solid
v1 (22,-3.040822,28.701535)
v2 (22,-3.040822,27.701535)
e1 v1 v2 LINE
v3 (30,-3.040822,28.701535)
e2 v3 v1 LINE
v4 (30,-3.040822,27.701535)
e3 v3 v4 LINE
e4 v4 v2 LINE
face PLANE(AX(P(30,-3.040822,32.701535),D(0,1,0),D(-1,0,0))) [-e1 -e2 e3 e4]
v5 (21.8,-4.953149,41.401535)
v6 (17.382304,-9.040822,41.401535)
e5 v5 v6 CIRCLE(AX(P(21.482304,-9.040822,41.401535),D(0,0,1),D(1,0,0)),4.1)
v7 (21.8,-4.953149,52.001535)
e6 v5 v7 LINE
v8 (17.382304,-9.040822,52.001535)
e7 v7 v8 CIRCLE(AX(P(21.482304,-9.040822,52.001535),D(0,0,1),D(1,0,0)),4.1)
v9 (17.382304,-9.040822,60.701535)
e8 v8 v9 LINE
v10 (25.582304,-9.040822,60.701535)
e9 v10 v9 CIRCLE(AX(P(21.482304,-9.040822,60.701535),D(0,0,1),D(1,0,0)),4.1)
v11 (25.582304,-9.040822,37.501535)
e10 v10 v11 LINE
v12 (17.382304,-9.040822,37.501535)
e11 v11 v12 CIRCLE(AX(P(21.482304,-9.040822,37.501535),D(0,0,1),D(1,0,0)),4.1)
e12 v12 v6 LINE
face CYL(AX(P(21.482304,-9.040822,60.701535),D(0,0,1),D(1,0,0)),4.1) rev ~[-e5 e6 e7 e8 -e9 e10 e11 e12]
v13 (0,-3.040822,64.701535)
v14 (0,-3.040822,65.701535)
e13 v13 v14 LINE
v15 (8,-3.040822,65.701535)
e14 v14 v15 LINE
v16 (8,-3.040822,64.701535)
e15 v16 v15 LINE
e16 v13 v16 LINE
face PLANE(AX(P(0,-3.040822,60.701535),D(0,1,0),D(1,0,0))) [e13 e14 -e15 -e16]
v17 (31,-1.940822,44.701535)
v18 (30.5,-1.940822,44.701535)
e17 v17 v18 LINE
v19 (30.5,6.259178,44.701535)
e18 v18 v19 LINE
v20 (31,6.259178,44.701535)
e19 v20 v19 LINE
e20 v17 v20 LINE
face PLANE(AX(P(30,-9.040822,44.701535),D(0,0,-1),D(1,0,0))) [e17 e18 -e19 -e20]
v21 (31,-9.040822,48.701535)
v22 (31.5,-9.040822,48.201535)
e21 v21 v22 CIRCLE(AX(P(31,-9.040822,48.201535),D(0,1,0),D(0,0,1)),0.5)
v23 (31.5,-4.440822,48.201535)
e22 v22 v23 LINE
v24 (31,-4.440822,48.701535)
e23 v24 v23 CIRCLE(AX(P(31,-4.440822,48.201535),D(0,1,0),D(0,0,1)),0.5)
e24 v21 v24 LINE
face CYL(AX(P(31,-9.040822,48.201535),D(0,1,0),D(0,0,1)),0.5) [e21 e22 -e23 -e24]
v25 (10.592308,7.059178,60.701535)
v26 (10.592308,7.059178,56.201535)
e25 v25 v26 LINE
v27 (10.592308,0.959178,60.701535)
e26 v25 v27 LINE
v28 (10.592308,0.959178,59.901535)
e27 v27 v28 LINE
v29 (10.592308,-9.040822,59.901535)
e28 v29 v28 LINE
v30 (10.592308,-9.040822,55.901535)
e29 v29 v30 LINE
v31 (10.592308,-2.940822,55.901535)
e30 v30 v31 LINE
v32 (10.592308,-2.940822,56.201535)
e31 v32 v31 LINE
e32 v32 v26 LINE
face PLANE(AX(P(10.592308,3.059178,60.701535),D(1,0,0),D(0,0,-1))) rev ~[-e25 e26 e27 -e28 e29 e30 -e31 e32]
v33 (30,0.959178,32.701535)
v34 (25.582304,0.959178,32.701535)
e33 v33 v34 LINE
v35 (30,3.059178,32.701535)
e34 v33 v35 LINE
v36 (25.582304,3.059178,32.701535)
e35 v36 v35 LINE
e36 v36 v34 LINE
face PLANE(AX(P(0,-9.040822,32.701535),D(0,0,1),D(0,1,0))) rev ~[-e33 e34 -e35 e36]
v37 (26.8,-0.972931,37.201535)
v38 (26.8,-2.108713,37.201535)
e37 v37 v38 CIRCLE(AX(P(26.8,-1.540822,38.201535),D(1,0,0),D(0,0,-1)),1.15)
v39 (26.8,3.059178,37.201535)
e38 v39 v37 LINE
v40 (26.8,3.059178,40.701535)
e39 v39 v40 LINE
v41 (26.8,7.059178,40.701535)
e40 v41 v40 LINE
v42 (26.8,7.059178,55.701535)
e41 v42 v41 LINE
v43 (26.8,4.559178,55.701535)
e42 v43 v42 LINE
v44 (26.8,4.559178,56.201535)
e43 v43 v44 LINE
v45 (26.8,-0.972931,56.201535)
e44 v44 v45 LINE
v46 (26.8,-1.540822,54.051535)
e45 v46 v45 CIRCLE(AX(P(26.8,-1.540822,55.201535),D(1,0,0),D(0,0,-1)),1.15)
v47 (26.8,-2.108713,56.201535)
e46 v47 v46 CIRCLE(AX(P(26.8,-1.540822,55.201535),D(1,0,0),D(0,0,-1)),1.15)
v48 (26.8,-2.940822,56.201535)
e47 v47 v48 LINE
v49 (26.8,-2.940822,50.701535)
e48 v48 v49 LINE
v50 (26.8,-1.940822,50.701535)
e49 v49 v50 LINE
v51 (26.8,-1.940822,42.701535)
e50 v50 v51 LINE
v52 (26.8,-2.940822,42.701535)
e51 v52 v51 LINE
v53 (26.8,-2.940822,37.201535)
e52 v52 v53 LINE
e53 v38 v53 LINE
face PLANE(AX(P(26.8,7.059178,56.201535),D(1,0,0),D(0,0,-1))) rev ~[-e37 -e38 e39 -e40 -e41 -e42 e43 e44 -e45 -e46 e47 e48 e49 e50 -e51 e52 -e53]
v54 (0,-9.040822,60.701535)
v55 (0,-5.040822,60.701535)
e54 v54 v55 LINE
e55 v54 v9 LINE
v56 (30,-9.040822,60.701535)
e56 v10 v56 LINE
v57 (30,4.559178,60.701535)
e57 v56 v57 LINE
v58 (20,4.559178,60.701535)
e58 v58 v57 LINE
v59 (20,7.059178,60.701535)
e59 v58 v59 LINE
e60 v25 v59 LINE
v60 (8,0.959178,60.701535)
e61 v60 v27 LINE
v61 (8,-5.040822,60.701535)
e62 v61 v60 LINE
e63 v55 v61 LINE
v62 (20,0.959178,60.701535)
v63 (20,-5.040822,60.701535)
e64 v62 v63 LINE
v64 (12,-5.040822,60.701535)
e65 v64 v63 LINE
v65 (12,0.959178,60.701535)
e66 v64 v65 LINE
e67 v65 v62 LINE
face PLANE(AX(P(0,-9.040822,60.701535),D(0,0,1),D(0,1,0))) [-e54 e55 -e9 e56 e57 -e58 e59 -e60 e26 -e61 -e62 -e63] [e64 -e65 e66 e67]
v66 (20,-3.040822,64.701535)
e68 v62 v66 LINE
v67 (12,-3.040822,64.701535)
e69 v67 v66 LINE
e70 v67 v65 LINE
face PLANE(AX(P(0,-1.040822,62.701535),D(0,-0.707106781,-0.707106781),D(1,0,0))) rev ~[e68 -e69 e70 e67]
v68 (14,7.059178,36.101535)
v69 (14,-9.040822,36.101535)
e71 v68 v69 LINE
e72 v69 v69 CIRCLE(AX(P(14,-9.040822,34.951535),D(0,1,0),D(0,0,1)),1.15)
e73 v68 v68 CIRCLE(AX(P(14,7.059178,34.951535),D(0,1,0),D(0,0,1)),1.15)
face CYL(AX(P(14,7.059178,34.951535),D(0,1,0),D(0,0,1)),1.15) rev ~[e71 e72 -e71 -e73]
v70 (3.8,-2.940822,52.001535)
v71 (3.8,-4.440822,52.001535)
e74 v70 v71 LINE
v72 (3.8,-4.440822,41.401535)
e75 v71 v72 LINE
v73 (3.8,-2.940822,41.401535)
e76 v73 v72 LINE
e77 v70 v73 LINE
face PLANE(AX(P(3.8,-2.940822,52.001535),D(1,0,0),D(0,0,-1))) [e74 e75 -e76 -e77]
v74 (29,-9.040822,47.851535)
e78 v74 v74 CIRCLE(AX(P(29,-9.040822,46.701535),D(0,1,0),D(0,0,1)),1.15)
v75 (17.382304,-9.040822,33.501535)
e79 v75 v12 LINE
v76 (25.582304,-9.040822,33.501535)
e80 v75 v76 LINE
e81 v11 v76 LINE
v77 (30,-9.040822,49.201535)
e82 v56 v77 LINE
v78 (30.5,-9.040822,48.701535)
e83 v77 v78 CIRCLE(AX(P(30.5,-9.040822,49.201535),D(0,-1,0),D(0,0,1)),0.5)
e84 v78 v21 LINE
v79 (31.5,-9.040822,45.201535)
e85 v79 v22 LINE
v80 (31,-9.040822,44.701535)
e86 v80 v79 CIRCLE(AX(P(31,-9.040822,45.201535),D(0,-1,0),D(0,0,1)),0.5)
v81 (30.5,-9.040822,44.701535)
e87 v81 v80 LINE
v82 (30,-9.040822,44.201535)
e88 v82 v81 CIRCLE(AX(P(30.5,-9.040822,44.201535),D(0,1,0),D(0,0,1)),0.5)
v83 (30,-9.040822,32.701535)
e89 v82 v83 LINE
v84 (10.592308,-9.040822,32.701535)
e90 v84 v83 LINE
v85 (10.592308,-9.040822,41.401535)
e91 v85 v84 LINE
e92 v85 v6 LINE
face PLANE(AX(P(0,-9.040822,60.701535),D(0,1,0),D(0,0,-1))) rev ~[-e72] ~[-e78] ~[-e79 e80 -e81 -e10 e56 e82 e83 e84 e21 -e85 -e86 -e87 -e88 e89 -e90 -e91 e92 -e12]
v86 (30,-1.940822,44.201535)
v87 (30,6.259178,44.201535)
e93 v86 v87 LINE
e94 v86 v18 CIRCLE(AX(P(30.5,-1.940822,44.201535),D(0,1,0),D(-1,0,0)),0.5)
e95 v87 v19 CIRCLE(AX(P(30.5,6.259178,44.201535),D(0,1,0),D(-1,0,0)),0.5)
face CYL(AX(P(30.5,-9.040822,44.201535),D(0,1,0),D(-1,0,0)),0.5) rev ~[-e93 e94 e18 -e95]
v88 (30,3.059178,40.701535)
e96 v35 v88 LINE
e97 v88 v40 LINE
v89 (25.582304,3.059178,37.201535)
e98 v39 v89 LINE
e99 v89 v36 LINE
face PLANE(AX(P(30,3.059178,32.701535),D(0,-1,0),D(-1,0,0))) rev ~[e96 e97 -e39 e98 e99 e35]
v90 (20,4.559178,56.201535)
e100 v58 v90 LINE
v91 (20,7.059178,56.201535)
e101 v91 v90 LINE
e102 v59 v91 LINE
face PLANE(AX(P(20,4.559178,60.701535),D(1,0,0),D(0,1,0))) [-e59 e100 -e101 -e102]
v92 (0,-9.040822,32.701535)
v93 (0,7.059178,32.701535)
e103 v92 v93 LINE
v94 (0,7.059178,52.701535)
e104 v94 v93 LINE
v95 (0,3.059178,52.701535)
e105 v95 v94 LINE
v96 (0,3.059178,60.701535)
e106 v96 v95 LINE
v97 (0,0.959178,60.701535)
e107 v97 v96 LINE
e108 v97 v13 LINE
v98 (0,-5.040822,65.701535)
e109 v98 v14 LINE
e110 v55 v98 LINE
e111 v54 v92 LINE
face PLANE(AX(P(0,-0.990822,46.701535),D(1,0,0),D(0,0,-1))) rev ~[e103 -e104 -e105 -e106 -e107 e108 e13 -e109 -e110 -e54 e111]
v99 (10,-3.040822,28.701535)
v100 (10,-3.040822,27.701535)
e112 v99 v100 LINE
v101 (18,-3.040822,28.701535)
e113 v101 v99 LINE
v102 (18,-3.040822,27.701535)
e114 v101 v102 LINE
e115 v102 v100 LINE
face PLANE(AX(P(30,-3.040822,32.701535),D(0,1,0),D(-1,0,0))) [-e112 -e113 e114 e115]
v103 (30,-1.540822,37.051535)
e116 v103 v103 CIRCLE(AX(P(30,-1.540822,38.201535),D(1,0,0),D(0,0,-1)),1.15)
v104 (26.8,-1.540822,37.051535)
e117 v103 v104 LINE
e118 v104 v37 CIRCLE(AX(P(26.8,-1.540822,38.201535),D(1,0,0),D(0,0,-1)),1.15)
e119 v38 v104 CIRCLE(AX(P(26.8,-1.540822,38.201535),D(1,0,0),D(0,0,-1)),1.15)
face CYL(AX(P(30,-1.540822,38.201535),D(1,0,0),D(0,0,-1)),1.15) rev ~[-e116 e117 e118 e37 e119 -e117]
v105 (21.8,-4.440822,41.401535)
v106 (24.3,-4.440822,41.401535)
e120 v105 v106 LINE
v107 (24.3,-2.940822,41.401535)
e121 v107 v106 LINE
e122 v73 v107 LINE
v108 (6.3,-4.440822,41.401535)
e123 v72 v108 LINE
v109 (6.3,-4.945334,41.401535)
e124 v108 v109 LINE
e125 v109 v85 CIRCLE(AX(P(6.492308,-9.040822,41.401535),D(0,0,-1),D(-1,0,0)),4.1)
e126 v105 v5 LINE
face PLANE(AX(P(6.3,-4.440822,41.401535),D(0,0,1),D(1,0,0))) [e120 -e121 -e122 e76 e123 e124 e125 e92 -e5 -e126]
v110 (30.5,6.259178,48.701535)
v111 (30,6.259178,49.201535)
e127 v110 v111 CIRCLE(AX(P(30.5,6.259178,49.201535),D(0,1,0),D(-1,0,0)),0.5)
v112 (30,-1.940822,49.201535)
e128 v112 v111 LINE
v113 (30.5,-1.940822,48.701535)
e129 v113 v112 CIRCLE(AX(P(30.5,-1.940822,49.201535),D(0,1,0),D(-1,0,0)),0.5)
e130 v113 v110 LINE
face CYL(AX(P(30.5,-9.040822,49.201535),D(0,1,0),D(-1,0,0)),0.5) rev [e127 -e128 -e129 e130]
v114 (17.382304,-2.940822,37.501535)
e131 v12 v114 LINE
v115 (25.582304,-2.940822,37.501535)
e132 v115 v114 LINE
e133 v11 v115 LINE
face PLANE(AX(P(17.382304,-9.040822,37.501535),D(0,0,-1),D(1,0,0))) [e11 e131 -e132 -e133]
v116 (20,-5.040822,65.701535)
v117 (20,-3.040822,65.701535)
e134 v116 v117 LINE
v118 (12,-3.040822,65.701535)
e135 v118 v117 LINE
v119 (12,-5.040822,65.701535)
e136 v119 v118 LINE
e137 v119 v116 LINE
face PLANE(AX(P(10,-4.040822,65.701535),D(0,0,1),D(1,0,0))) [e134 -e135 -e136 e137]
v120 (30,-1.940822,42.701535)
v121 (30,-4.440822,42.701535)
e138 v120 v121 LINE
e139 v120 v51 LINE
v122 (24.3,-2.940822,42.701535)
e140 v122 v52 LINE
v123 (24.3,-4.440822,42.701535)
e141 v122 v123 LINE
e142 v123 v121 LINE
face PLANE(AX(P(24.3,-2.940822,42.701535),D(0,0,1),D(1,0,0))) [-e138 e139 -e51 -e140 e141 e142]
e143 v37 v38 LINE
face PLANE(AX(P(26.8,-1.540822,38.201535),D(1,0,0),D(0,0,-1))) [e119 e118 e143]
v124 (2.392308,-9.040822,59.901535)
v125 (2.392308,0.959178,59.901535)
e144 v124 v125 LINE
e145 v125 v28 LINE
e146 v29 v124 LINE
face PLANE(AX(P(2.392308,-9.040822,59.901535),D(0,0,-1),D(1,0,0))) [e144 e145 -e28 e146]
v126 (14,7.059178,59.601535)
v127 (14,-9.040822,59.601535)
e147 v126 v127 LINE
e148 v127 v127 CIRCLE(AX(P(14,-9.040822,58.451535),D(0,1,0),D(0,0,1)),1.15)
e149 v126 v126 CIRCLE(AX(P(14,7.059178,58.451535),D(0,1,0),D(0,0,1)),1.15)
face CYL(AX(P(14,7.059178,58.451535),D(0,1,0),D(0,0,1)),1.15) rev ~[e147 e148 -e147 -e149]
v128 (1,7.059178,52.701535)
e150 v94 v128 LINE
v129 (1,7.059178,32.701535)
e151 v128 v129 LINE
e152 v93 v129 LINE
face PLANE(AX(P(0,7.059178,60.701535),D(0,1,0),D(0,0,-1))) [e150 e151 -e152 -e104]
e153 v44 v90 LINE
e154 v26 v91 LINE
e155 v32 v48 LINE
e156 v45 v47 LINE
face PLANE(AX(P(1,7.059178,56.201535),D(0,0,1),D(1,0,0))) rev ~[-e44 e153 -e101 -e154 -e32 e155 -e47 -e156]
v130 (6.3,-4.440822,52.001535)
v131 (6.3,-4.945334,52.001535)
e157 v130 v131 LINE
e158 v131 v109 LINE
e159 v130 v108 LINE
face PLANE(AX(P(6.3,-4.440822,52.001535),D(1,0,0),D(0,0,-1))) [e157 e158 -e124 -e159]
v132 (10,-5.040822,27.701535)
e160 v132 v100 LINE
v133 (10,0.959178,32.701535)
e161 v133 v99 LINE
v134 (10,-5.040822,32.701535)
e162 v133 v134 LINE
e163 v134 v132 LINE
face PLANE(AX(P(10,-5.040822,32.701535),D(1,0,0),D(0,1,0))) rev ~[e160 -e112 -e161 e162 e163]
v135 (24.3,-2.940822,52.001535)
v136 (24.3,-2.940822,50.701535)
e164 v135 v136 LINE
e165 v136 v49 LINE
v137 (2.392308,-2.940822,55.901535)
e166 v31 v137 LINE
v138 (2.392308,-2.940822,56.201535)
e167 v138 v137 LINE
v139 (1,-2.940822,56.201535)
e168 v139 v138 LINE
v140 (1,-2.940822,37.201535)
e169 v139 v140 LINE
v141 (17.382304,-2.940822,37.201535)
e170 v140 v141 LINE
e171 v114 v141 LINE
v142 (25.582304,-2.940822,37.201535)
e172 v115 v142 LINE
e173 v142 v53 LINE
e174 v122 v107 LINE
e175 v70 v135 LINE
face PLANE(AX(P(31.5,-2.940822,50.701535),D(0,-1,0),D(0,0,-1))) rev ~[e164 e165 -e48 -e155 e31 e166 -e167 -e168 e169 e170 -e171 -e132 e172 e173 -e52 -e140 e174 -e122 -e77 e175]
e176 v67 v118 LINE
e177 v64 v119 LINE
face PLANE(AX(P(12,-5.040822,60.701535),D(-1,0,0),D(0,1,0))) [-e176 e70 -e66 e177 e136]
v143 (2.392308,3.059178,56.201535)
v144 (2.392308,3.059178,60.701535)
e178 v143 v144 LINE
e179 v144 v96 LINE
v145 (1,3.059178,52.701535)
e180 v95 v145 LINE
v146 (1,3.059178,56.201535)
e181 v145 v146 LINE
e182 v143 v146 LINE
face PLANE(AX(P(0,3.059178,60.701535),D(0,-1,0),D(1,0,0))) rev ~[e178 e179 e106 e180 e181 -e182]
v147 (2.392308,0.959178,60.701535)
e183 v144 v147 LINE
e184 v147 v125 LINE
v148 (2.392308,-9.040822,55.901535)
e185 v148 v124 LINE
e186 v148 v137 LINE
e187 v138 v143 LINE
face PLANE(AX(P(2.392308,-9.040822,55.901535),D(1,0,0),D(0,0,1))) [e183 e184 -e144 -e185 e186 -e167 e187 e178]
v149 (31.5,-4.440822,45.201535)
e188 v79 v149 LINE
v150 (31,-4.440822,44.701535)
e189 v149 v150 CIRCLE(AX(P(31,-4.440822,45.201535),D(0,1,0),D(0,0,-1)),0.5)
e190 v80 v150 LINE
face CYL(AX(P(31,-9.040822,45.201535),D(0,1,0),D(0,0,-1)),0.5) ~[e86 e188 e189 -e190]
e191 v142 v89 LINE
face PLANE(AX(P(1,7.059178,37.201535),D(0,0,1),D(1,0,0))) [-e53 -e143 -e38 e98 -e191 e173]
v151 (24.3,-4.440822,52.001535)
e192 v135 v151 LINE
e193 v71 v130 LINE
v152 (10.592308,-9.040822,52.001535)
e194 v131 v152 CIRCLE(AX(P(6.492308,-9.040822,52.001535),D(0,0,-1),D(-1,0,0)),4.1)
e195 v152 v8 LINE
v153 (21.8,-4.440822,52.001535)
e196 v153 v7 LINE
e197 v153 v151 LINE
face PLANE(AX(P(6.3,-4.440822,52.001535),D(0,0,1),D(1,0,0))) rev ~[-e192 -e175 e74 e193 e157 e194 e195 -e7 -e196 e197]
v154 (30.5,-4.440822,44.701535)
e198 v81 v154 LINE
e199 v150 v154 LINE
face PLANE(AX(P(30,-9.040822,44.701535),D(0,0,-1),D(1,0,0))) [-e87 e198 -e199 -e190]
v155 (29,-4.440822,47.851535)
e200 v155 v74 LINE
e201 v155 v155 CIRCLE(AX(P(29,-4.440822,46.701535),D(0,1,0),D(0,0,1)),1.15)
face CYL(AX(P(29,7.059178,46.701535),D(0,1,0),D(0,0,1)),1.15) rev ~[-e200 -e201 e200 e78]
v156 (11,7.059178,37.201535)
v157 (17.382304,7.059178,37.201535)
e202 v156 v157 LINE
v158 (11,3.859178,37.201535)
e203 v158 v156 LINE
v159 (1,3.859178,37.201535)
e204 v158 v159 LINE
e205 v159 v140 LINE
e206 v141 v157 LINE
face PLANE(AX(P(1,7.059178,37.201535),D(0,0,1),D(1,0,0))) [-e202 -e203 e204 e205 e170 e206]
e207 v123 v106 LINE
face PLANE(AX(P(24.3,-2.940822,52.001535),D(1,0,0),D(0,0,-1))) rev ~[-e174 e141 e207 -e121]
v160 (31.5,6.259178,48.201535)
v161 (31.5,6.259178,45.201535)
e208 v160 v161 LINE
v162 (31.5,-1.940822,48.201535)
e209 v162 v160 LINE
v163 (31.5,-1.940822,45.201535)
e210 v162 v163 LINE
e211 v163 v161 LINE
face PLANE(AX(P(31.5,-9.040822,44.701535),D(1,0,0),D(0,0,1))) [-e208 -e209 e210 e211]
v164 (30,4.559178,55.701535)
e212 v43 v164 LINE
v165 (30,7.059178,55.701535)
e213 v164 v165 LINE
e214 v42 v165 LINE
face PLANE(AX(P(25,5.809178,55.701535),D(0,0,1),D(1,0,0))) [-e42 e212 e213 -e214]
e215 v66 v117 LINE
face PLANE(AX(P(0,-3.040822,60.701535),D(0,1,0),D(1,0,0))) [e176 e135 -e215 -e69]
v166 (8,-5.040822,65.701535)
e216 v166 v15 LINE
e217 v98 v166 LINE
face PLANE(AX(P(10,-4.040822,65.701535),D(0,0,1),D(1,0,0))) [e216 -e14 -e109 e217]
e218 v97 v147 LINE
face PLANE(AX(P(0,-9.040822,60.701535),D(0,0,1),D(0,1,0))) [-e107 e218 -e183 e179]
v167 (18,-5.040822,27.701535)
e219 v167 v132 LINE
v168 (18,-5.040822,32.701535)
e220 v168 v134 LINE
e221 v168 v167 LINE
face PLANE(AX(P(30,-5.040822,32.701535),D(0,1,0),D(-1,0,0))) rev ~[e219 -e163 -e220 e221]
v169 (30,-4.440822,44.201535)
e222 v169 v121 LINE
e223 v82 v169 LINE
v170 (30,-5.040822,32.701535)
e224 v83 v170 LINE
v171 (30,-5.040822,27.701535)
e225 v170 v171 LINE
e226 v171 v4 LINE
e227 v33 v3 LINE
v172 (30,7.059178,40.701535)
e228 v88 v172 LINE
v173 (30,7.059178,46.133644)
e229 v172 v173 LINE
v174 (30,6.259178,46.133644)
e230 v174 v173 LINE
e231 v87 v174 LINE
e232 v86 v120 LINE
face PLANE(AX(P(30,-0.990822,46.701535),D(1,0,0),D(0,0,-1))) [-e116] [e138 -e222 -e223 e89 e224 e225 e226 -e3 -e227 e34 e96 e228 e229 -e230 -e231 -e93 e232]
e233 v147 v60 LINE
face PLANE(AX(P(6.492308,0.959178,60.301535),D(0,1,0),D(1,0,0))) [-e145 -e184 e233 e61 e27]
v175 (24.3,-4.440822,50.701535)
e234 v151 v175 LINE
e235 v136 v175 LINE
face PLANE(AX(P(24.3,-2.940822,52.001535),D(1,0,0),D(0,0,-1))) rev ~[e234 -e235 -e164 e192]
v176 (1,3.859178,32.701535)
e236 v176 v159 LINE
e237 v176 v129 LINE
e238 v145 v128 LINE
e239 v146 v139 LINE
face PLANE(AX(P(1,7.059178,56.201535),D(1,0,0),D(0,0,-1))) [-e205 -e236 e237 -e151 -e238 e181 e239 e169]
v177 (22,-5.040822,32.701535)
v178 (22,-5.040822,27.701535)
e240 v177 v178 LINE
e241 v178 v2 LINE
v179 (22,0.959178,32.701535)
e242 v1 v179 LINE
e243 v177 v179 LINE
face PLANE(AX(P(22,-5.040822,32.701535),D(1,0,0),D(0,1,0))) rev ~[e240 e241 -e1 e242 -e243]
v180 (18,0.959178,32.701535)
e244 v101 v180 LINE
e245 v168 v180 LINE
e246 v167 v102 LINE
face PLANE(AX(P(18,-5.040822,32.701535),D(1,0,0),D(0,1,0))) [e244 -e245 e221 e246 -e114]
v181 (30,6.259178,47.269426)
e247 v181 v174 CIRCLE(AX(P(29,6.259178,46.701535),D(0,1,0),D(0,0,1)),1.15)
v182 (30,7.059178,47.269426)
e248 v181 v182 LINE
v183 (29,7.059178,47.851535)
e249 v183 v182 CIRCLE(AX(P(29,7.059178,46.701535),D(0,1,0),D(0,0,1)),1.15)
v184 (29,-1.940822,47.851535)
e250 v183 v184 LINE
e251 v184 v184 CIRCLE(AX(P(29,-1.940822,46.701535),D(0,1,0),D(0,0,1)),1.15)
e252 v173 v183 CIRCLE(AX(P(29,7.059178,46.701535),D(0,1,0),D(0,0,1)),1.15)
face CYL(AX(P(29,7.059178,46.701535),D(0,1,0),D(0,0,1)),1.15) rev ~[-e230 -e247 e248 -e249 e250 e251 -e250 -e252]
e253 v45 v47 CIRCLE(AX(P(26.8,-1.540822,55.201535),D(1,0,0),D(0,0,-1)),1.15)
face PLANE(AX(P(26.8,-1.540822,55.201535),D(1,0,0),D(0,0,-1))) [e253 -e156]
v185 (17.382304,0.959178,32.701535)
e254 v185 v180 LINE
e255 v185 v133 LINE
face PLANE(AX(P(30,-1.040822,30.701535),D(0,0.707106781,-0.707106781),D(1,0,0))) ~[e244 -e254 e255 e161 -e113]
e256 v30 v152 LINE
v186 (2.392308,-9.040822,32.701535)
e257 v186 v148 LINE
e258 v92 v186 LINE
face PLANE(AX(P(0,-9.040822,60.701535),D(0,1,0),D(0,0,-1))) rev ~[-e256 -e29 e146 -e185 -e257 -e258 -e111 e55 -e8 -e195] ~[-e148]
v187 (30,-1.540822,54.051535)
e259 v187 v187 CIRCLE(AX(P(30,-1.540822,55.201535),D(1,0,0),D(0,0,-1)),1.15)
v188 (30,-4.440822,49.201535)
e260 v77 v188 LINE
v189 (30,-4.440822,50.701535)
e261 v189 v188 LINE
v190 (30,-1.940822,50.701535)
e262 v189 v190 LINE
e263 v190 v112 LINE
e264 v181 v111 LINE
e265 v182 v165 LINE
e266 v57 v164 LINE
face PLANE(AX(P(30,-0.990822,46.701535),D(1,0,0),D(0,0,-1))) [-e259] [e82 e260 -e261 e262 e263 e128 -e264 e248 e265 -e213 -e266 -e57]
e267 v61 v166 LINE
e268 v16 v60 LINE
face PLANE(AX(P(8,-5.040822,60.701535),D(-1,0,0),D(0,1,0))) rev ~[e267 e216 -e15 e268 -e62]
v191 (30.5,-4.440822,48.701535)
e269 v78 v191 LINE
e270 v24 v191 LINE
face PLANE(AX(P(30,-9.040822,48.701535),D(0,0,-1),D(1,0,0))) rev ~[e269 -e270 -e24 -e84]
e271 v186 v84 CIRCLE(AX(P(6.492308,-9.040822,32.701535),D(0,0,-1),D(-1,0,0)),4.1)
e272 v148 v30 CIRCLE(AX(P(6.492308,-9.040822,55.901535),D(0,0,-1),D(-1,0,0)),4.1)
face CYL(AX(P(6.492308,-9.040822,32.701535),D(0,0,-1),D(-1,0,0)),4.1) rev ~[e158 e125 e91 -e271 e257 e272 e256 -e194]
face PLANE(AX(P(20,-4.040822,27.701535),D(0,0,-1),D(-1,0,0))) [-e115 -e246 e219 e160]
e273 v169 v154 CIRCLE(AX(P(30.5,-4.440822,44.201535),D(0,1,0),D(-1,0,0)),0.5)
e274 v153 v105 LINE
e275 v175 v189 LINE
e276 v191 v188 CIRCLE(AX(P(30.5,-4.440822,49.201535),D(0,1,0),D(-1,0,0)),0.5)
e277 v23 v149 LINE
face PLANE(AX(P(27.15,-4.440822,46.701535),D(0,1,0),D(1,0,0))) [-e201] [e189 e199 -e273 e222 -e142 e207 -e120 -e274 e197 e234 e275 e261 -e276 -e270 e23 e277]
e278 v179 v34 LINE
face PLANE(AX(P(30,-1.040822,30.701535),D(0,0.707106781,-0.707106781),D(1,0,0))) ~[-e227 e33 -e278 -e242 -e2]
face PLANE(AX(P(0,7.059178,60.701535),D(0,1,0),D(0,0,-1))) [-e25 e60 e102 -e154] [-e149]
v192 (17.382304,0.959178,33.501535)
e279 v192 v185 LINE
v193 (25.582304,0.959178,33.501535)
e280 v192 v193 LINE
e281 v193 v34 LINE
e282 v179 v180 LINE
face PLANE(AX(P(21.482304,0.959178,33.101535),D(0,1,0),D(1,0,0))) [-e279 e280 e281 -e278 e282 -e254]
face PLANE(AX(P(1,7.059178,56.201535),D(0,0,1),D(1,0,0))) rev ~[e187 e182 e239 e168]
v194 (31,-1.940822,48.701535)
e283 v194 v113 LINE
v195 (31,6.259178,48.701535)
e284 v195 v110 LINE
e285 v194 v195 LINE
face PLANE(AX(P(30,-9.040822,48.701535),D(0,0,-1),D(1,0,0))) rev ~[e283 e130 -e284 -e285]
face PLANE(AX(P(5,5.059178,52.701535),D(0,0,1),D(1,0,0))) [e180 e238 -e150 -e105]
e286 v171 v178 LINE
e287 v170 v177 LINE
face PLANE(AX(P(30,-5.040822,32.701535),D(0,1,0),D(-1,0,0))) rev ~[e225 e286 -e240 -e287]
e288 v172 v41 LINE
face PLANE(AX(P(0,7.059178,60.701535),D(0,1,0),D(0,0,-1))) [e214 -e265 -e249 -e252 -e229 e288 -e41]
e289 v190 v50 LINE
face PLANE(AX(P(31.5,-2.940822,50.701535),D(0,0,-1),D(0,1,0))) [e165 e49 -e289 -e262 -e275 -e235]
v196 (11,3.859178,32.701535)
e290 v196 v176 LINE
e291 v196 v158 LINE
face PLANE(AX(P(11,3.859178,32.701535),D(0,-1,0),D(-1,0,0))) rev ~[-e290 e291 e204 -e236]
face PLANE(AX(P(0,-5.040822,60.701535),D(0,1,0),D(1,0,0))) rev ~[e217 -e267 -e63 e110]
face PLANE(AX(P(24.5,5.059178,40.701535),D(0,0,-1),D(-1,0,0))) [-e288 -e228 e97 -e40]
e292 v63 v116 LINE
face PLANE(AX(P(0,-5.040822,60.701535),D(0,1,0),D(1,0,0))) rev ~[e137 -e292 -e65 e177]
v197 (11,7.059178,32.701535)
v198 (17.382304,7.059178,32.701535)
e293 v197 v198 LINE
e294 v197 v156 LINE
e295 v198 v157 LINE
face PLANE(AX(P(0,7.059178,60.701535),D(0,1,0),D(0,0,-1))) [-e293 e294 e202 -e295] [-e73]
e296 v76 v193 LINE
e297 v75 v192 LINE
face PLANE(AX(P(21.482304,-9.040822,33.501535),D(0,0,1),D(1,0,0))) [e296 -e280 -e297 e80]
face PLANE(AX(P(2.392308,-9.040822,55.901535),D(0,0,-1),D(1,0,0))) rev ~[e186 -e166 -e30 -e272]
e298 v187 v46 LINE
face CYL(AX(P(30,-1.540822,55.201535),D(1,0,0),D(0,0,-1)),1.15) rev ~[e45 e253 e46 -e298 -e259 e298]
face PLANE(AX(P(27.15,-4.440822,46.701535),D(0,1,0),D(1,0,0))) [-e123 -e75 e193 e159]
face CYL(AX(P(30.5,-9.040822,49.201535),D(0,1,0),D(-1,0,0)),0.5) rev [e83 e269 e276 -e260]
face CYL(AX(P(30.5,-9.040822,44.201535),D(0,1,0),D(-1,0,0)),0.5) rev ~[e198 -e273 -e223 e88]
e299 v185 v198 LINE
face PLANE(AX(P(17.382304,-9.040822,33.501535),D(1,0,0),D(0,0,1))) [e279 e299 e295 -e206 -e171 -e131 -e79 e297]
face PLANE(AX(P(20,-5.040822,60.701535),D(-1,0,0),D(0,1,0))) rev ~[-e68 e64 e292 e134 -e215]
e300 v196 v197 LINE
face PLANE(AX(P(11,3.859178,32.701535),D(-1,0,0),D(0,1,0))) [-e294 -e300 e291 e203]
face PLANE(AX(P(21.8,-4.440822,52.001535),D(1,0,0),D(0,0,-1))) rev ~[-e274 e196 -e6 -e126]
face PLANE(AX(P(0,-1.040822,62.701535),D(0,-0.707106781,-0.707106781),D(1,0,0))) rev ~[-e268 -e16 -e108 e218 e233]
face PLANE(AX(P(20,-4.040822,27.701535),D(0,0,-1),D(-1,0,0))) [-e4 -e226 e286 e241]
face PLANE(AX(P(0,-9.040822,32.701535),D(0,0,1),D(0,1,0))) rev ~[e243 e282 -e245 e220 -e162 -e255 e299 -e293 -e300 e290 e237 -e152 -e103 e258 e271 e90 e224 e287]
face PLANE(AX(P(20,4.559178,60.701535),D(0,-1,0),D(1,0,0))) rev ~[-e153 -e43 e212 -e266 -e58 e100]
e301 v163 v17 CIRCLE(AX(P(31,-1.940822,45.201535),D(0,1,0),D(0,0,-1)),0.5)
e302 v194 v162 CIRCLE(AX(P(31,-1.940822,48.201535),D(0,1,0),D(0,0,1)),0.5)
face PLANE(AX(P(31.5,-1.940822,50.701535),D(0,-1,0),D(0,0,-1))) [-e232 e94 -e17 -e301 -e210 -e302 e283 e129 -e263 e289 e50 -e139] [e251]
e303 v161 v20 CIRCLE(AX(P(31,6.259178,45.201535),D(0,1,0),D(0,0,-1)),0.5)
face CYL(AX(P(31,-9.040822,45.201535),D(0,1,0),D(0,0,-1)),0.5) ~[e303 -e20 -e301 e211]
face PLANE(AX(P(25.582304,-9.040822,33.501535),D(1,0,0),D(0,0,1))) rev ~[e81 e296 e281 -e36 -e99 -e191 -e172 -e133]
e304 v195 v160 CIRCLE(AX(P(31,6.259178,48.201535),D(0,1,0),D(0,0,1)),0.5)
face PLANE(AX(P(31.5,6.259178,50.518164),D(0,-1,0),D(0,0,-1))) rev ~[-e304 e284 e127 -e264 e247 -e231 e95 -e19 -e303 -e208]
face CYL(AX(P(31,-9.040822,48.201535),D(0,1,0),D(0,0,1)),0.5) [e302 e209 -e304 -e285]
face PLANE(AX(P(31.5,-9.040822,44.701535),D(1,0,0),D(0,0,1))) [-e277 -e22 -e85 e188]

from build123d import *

# Parameters (mm, degrees)
SKETCH1_W           = 28
SKETCH1_H           = 16.1
BOSS_EXTRUDE1_DEPTH = 30
SKETCH2_W           = 10
SKETCH2_H           = 2.5
CUT_EXTRUDE1_DEPTH  = 5
SKETCH3_W           = 10
SKETCH3_H           = 4
CUT_EXTRUDE2_DEPTH  = 8
SKETCH4_W           = 10
SKETCH4_H           = 3.2
CUT_EXTRUDE3_DEPTH  = 8
SKETCH5_W           = 11
SKETCH5_H           = 4
CUT_EXTRUDE4_DEPTH  = 8
SKETCH6_W           = 20
SKETCH6_H           = 2
BOSS_EXTRUDE2_DEPTH = 5
CHAMFER1_SIZE       = 4
SKETCH7_W           = 20
SKETCH7_H           = 2
BOSS_EXTRUDE3_DEPTH = 5
CHAMFER2_SIZE       = 4
SKETCH9_W           = 25.8
SKETCH9_H           = 19
CUT_EXTRUDE6_DEPTH  = 10
SKETCH13_R          = 4.1
CUT_EXTRUDE10_DEPTH = 27.2
SKETCH14_R          = 4.1
CUT_EXTRUDE11_DEPTH = 27.2
SKETCH15_W          = 8.2
SKETCH15_H          = 4
CUT_EXTRUDE12_DEPTH = 27.2
SKETCH16_W          = 0.59230819
SKETCH16_H          = 0.8
SKETCH16_W_2        = 1.617695922
CUT_EXTRUDE13_DEPTH = 4
SKETCH17_W          = 1.5
SKETCH17_H          = 4
BOSS_EXTRUDE4_DEPTH = 16.1
FILLET1_R           = 0.5
SKETCH18_R          = 3.5
CUT_EXTRUDE14_DEPTH = 6.1
SKETCH19_W          = 8
SKETCH19_H          = 1
CUT_EXTRUDE15_DEPTH = 10
SKETCH20_W          = 20.5
SKETCH20_H          = 10.6
CUT_EXTRUDE16_DEPTH = 1.5
SKETCH21_W          = 5.7
SKETCH21_H          = 8
CUT_EXTRUDE17_DEPTH = 1.5
SKETCH22_W          = 8
SKETCH22_H          = 2.5
CUT_EXTRUDE18_DEPTH = 1.5
SKETCH23_R          = 1.15
CUT_EXTRUDE19_DEPTH = 75.620049118
SKETCH24_W          = 8.2
SKETCH24_H          = 0.8
CUT_EXTRUDE20_DEPTH = 2.1
CUT_EXTRUDE21_REACH = 75.421
SKETCH25_W          = 7.929527271
SKETCH25_H          = 0.8
CUT_EXTRUDE22_START = -5
SKETCH26_W          = 4
SKETCH26_H          = 6
CUT_EXTRUDE22_DEPTH = 5
CUT_EXTRUDE23_START = -5
SKETCH27_W          = 4
SKETCH27_H          = 6
CUT_EXTRUDE23_DEPTH = 5
SKETCH28_R          = 1.15
CUT_EXTRUDE24_DEPTH = 3.2
CUT_EXTRUDE25_REACH = 75.764
SKETCH29_W          = 15.5
SKETCH29_H          = 10.6


with BuildPart() as part:
    # Sketch1 → Boss-Extrude1 (new body)
    with BuildSketch(Plane(origin=(0, 0, 0), x_dir=(0, 0, -1), z_dir=(1, 0, 0))):
        with Locations((-46.701535197, -0.990821865)):
            Rectangle(SKETCH1_W, SKETCH1_H)
    extrude(amount=BOSS_EXTRUDE1_DEPTH)

    # Sketch2 → Cut-Extrude1 (cut)
    with BuildSketch(Plane.XY.offset(60.701535197)):
        with Locations((25, 5.809178135)):
            Rectangle(SKETCH2_W, SKETCH2_H)
    extrude(amount=-CUT_EXTRUDE1_DEPTH, mode=Mode.SUBTRACT)

    # Sketch3 → Cut-Extrude2 (cut)
    with BuildSketch(Plane.XY.offset(60.701535197)):
        with Locations((5, 5.059178135)):
            Rectangle(SKETCH3_W, SKETCH3_H)
    extrude(amount=-CUT_EXTRUDE2_DEPTH, mode=Mode.SUBTRACT)

    # Sketch4 → Cut-Extrude3 (cut)
    with BuildSketch(Plane(origin=(0, 0, 32.701535197), x_dir=(-1, 0, 0), z_dir=(0, 0, -1))):
        with Locations((-6, 5.459178135)):
            Rectangle(SKETCH4_W, SKETCH4_H)
    extrude(amount=-CUT_EXTRUDE3_DEPTH, mode=Mode.SUBTRACT)

    # Sketch5 → Cut-Extrude4 (cut)
    with BuildSketch(Plane(origin=(0, 0, 32.701535197), x_dir=(-1, 0, 0), z_dir=(0, 0, -1))):
        with Locations((-24.5, 5.059178135)):
            Rectangle(SKETCH5_W, SKETCH5_H)
    extrude(amount=-CUT_EXTRUDE4_DEPTH, mode=Mode.SUBTRACT)

    # Sketch6 → Boss-Extrude2 (add)
    with BuildSketch(Plane(origin=(0, 0, 32.701535197), x_dir=(-1, 0, 0), z_dir=(0, 0, -1))):
        with Locations((-20, -4.040821865)):
            Rectangle(SKETCH6_W, SKETCH6_H)
    extrude(amount=BOSS_EXTRUDE2_DEPTH)

    # Chamfer1
    chamfer1_edges = [part.edges().sort_by_distance(p)[0] for p in [
        (20, -3.040821865, 32.701535197),
    ]]
    chamfer(chamfer1_edges, length=CHAMFER1_SIZE)

    # Sketch7 → Boss-Extrude3 (add)
    with BuildSketch(Plane.XY.offset(60.701535197)):
        with Locations((10, -4.040821865)):
            Rectangle(SKETCH7_W, SKETCH7_H)
    extrude(amount=BOSS_EXTRUDE3_DEPTH)

    # Chamfer2
    chamfer2_edges = [part.edges().sort_by_distance(p)[0] for p in [
        (10, -3.040821865, 60.701535197),
    ]]
    chamfer(chamfer2_edges, length=CHAMFER2_SIZE)

    # Sketch9 → Cut-Extrude6 (cut)
    with BuildSketch(Plane(origin=(0, 7.059178135, 0), x_dir=(1, 0, 0), z_dir=(0, 1, 0))):
        with Locations((13.9, -46.701535197)):
            Rectangle(SKETCH9_W, SKETCH9_H)
    extrude(amount=-CUT_EXTRUDE6_DEPTH, mode=Mode.SUBTRACT)

    # Sketch13 → Cut-Extrude10 (cut)
    with BuildSketch(Plane.XY.offset(60.701535197)):
        with Locations((21.482304078, -9.040821865)):
            Circle(SKETCH13_R)
    extrude(amount=-CUT_EXTRUDE10_DEPTH, mode=Mode.SUBTRACT)

    # Sketch14 → Cut-Extrude11 (cut)
    with BuildSketch(Plane(origin=(0, 0, 32.701535197), x_dir=(-1, 0, 0), z_dir=(0, 0, -1))):
        with Locations((-6.49230819, -9.040821865)):
            Circle(SKETCH14_R)
    extrude(amount=-CUT_EXTRUDE11_DEPTH, mode=Mode.SUBTRACT)

    # Sketch15 → Cut-Extrude12 (cut)
    with BuildSketch(Plane.XZ.offset(9.040821865)):
        with Locations((6.49230819, 57.901535197)):
            Rectangle(SKETCH15_W, SKETCH15_H)
        with Locations((21.482304078, 35.501535197)):
            Rectangle(SKETCH15_W, SKETCH15_H)
    extrude(amount=-CUT_EXTRUDE12_DEPTH, mode=Mode.SUBTRACT)

    # Sketch16 → Cut-Extrude13 (cut)
    with BuildSketch(Plane(origin=(0, 7.059178135, 0), x_dir=(1, 0, 0), z_dir=(0, 1, 0))):
        with Locations((10.296154095, -60.301535197)):
            Rectangle(SKETCH16_W, SKETCH16_H)
        with Locations((18.191152039, -33.101535197)):
            Rectangle(SKETCH16_W_2, SKETCH16_H)
    extrude(amount=-CUT_EXTRUDE13_DEPTH, mode=Mode.SUBTRACT)

    # Sketch17 → Boss-Extrude4 (add)
    with BuildSketch(Plane.XZ.offset(9.040821865)):
        with Locations((30.75, 46.701535197)):
            Rectangle(SKETCH17_W, SKETCH17_H)
    extrude(amount=-BOSS_EXTRUDE4_DEPTH)

    # Fillet1
    fillet1_edges = [part.edges().sort_by_distance(p)[0] for p in [
        (30, -0.990821865, 44.701535197),
        (30, -0.990821865, 48.701535197),
        (31.5, -0.990821865, 48.701535197),
        (31.5, -0.990821865, 44.701535197),
    ]]
    fillet(fillet1_edges, radius=FILLET1_R)

    # Sketch18 → Cut-Extrude14 (cut)
    with BuildSketch(Plane.XZ.offset(9.040821865)):
        with Locations(Location((13.985, 46.701535197, 0), (0, 0, 194.224464848))):
            Circle(SKETCH18_R)
    extrude(amount=-CUT_EXTRUDE14_DEPTH, mode=Mode.SUBTRACT)

    # Sketch19 → Cut-Extrude15 (cut)
    with BuildSketch(Plane(origin=(31.5, 0, 0), x_dir=(0, 0, -1), z_dir=(1, 0, 0))):
        with Locations((-46.701535197, -2.440821865)):
            Rectangle(SKETCH19_W, SKETCH19_H)
    extrude(amount=-CUT_EXTRUDE15_DEPTH, mode=Mode.SUBTRACT)

    # Sketch20 → Cut-Extrude16 (cut)
    with BuildSketch(Plane(origin=(0, -2.940821865, 0), x_dir=(1, 0, 0), z_dir=(0, 1, 0))):
        with Locations((14.05, -46.701535197)):
            Rectangle(SKETCH20_W, SKETCH20_H)
    extrude(amount=-CUT_EXTRUDE16_DEPTH, mode=Mode.SUBTRACT)

    # Sketch21 → Cut-Extrude17 (cut)
    with BuildSketch(Plane(origin=(0, -2.940821865, 0), x_dir=(1, 0, 0), z_dir=(0, 1, 0))):
        with Locations((27.15, -46.701535197)):
            Rectangle(SKETCH21_W, SKETCH21_H)
    extrude(amount=-CUT_EXTRUDE17_DEPTH, mode=Mode.SUBTRACT)

    # Sketch22 → Cut-Extrude18 (cut)
    with BuildSketch(Plane(origin=(31.5, 0, 0), x_dir=(0, 0, -1), z_dir=(1, 0, 0))):
        with Locations((-46.701535197, -3.190821865)):
            Rectangle(SKETCH22_W, SKETCH22_H)
    extrude(amount=-CUT_EXTRUDE18_DEPTH, mode=Mode.SUBTRACT)

    # Sketch23 → Cut-Extrude19 (cut, through all)
    with BuildSketch(Plane(origin=(0, 7.059178135, 0), x_dir=(1, 0, 0), z_dir=(0, 1, 0))):
        with Locations(Location((29, -46.701535197, 0), (0, 0, 270))):
            Circle(SKETCH23_R)
        with Locations(Location((14, -34.951535197, 0), (0, 0, 270))):
            Circle(SKETCH23_R)
        with Locations(Location((14, -58.451535197, 0), (0, 0, 270))):
            Circle(SKETCH23_R)
    extrude(amount=-CUT_EXTRUDE19_DEPTH, mode=Mode.SUBTRACT)

    # Sketch24 → Cut-Extrude20 (cut)
    with BuildSketch(Plane(origin=(0, 3.059178135, 0), x_dir=(1, 0, 0), z_dir=(0, 1, 0))):
        with Locations((21.482304078, -33.101535197)):
            Rectangle(SKETCH24_W, SKETCH24_H)
        with Locations((6.49230819, -60.301535197)):
            Rectangle(SKETCH24_W, SKETCH24_H)
    extrude(amount=-CUT_EXTRUDE20_DEPTH, mode=Mode.SUBTRACT)

    # Cut-Extrude21: up to this face of the body (flat: up to its plane)
    cut_extrude21_end = Plane(part.part.faces().sort_by_distance((30, -1.445232759, 54.822020691))[0])
    # Sketch25 → Cut-Extrude21 (cut, up to the picked face)
    with BuildSketch(Plane(origin=(31.5, 0, 0), x_dir=(0, 0, -1), z_dir=(1, 0, 0)), mode=Mode.PRIVATE) as cut_extrude21_sk1:
        with Locations((-46.553400254, 6.659178135)):
            Rectangle(SKETCH25_W, SKETCH25_H)
    cut_extrude21_tool1 = split(extrude(cut_extrude21_sk1.sketch, amount=-CUT_EXTRUDE21_REACH, mode=Mode.PRIVATE), bisect_by=cut_extrude21_end, keep=Keep.BOTH, mode=Mode.PRIVATE)
    add(cut_extrude21_tool1.solids().sort_by(Axis((31.5, 6.659178, 46.5534), (-1, 0, 0)))[0], mode=Mode.SUBTRACT)

    # Sketch26 → Cut-Extrude22 (cut)
    with BuildSketch(Plane.XY.offset(65.701535197).offset(CUT_EXTRUDE22_START)):
        with Locations((10, -2.040821865)):
            Rectangle(SKETCH26_W, SKETCH26_H)
    extrude(amount=CUT_EXTRUDE22_DEPTH, mode=Mode.SUBTRACT)

    # Sketch27 → Cut-Extrude23 (cut)
    with BuildSketch(Plane(origin=(0, 0, 27.701535197), x_dir=(-1, 0, 0), z_dir=(0, 0, -1)).offset(CUT_EXTRUDE23_START)):
        with Locations((-20, -2.040821865)):
            Rectangle(SKETCH27_W, SKETCH27_H)
    extrude(amount=CUT_EXTRUDE23_DEPTH, mode=Mode.SUBTRACT)

    # Sketch28 → Cut-Extrude24 (cut)
    with BuildSketch(Plane(origin=(30, 0, 0), x_dir=(0, 0, -1), z_dir=(1, 0, 0))):
        with Locations((-55.201535197, -1.540821865)):
            Circle(SKETCH28_R)
        with Locations((-38.201535197, -1.540821865)):
            Circle(SKETCH28_R)
    extrude(amount=-CUT_EXTRUDE24_DEPTH, mode=Mode.SUBTRACT)

    # Cut-Extrude25: up to this face of the body (flat: up to its plane)
    cut_extrude25_end = Plane(part.part.faces().sort_by_distance((10.921875254, -9.040821865, 51.731547487))[0])
    # Sketch29 → Cut-Extrude25 (cut, up to the picked face)
    with BuildSketch(Plane(origin=(0, -4.440821865, 0), x_dir=(1, 0, 0), z_dir=(0, 1, 0)), mode=Mode.PRIVATE) as cut_extrude25_sk1:
        with Locations((14.05, -46.701535197)):
            Rectangle(SKETCH29_W, SKETCH29_H)
    cut_extrude25_tool1 = split(extrude(cut_extrude25_sk1.sketch, amount=-CUT_EXTRUDE25_REACH, mode=Mode.PRIVATE), bisect_by=cut_extrude25_end, keep=Keep.BOTH, mode=Mode.PRIVATE)
    add(cut_extrude25_tool1.solids().sort_by(Axis((14.05, -4.440822, 46.701535), (0, -1, 0)))[0], mode=Mode.SUBTRACT)


solid = part.part
